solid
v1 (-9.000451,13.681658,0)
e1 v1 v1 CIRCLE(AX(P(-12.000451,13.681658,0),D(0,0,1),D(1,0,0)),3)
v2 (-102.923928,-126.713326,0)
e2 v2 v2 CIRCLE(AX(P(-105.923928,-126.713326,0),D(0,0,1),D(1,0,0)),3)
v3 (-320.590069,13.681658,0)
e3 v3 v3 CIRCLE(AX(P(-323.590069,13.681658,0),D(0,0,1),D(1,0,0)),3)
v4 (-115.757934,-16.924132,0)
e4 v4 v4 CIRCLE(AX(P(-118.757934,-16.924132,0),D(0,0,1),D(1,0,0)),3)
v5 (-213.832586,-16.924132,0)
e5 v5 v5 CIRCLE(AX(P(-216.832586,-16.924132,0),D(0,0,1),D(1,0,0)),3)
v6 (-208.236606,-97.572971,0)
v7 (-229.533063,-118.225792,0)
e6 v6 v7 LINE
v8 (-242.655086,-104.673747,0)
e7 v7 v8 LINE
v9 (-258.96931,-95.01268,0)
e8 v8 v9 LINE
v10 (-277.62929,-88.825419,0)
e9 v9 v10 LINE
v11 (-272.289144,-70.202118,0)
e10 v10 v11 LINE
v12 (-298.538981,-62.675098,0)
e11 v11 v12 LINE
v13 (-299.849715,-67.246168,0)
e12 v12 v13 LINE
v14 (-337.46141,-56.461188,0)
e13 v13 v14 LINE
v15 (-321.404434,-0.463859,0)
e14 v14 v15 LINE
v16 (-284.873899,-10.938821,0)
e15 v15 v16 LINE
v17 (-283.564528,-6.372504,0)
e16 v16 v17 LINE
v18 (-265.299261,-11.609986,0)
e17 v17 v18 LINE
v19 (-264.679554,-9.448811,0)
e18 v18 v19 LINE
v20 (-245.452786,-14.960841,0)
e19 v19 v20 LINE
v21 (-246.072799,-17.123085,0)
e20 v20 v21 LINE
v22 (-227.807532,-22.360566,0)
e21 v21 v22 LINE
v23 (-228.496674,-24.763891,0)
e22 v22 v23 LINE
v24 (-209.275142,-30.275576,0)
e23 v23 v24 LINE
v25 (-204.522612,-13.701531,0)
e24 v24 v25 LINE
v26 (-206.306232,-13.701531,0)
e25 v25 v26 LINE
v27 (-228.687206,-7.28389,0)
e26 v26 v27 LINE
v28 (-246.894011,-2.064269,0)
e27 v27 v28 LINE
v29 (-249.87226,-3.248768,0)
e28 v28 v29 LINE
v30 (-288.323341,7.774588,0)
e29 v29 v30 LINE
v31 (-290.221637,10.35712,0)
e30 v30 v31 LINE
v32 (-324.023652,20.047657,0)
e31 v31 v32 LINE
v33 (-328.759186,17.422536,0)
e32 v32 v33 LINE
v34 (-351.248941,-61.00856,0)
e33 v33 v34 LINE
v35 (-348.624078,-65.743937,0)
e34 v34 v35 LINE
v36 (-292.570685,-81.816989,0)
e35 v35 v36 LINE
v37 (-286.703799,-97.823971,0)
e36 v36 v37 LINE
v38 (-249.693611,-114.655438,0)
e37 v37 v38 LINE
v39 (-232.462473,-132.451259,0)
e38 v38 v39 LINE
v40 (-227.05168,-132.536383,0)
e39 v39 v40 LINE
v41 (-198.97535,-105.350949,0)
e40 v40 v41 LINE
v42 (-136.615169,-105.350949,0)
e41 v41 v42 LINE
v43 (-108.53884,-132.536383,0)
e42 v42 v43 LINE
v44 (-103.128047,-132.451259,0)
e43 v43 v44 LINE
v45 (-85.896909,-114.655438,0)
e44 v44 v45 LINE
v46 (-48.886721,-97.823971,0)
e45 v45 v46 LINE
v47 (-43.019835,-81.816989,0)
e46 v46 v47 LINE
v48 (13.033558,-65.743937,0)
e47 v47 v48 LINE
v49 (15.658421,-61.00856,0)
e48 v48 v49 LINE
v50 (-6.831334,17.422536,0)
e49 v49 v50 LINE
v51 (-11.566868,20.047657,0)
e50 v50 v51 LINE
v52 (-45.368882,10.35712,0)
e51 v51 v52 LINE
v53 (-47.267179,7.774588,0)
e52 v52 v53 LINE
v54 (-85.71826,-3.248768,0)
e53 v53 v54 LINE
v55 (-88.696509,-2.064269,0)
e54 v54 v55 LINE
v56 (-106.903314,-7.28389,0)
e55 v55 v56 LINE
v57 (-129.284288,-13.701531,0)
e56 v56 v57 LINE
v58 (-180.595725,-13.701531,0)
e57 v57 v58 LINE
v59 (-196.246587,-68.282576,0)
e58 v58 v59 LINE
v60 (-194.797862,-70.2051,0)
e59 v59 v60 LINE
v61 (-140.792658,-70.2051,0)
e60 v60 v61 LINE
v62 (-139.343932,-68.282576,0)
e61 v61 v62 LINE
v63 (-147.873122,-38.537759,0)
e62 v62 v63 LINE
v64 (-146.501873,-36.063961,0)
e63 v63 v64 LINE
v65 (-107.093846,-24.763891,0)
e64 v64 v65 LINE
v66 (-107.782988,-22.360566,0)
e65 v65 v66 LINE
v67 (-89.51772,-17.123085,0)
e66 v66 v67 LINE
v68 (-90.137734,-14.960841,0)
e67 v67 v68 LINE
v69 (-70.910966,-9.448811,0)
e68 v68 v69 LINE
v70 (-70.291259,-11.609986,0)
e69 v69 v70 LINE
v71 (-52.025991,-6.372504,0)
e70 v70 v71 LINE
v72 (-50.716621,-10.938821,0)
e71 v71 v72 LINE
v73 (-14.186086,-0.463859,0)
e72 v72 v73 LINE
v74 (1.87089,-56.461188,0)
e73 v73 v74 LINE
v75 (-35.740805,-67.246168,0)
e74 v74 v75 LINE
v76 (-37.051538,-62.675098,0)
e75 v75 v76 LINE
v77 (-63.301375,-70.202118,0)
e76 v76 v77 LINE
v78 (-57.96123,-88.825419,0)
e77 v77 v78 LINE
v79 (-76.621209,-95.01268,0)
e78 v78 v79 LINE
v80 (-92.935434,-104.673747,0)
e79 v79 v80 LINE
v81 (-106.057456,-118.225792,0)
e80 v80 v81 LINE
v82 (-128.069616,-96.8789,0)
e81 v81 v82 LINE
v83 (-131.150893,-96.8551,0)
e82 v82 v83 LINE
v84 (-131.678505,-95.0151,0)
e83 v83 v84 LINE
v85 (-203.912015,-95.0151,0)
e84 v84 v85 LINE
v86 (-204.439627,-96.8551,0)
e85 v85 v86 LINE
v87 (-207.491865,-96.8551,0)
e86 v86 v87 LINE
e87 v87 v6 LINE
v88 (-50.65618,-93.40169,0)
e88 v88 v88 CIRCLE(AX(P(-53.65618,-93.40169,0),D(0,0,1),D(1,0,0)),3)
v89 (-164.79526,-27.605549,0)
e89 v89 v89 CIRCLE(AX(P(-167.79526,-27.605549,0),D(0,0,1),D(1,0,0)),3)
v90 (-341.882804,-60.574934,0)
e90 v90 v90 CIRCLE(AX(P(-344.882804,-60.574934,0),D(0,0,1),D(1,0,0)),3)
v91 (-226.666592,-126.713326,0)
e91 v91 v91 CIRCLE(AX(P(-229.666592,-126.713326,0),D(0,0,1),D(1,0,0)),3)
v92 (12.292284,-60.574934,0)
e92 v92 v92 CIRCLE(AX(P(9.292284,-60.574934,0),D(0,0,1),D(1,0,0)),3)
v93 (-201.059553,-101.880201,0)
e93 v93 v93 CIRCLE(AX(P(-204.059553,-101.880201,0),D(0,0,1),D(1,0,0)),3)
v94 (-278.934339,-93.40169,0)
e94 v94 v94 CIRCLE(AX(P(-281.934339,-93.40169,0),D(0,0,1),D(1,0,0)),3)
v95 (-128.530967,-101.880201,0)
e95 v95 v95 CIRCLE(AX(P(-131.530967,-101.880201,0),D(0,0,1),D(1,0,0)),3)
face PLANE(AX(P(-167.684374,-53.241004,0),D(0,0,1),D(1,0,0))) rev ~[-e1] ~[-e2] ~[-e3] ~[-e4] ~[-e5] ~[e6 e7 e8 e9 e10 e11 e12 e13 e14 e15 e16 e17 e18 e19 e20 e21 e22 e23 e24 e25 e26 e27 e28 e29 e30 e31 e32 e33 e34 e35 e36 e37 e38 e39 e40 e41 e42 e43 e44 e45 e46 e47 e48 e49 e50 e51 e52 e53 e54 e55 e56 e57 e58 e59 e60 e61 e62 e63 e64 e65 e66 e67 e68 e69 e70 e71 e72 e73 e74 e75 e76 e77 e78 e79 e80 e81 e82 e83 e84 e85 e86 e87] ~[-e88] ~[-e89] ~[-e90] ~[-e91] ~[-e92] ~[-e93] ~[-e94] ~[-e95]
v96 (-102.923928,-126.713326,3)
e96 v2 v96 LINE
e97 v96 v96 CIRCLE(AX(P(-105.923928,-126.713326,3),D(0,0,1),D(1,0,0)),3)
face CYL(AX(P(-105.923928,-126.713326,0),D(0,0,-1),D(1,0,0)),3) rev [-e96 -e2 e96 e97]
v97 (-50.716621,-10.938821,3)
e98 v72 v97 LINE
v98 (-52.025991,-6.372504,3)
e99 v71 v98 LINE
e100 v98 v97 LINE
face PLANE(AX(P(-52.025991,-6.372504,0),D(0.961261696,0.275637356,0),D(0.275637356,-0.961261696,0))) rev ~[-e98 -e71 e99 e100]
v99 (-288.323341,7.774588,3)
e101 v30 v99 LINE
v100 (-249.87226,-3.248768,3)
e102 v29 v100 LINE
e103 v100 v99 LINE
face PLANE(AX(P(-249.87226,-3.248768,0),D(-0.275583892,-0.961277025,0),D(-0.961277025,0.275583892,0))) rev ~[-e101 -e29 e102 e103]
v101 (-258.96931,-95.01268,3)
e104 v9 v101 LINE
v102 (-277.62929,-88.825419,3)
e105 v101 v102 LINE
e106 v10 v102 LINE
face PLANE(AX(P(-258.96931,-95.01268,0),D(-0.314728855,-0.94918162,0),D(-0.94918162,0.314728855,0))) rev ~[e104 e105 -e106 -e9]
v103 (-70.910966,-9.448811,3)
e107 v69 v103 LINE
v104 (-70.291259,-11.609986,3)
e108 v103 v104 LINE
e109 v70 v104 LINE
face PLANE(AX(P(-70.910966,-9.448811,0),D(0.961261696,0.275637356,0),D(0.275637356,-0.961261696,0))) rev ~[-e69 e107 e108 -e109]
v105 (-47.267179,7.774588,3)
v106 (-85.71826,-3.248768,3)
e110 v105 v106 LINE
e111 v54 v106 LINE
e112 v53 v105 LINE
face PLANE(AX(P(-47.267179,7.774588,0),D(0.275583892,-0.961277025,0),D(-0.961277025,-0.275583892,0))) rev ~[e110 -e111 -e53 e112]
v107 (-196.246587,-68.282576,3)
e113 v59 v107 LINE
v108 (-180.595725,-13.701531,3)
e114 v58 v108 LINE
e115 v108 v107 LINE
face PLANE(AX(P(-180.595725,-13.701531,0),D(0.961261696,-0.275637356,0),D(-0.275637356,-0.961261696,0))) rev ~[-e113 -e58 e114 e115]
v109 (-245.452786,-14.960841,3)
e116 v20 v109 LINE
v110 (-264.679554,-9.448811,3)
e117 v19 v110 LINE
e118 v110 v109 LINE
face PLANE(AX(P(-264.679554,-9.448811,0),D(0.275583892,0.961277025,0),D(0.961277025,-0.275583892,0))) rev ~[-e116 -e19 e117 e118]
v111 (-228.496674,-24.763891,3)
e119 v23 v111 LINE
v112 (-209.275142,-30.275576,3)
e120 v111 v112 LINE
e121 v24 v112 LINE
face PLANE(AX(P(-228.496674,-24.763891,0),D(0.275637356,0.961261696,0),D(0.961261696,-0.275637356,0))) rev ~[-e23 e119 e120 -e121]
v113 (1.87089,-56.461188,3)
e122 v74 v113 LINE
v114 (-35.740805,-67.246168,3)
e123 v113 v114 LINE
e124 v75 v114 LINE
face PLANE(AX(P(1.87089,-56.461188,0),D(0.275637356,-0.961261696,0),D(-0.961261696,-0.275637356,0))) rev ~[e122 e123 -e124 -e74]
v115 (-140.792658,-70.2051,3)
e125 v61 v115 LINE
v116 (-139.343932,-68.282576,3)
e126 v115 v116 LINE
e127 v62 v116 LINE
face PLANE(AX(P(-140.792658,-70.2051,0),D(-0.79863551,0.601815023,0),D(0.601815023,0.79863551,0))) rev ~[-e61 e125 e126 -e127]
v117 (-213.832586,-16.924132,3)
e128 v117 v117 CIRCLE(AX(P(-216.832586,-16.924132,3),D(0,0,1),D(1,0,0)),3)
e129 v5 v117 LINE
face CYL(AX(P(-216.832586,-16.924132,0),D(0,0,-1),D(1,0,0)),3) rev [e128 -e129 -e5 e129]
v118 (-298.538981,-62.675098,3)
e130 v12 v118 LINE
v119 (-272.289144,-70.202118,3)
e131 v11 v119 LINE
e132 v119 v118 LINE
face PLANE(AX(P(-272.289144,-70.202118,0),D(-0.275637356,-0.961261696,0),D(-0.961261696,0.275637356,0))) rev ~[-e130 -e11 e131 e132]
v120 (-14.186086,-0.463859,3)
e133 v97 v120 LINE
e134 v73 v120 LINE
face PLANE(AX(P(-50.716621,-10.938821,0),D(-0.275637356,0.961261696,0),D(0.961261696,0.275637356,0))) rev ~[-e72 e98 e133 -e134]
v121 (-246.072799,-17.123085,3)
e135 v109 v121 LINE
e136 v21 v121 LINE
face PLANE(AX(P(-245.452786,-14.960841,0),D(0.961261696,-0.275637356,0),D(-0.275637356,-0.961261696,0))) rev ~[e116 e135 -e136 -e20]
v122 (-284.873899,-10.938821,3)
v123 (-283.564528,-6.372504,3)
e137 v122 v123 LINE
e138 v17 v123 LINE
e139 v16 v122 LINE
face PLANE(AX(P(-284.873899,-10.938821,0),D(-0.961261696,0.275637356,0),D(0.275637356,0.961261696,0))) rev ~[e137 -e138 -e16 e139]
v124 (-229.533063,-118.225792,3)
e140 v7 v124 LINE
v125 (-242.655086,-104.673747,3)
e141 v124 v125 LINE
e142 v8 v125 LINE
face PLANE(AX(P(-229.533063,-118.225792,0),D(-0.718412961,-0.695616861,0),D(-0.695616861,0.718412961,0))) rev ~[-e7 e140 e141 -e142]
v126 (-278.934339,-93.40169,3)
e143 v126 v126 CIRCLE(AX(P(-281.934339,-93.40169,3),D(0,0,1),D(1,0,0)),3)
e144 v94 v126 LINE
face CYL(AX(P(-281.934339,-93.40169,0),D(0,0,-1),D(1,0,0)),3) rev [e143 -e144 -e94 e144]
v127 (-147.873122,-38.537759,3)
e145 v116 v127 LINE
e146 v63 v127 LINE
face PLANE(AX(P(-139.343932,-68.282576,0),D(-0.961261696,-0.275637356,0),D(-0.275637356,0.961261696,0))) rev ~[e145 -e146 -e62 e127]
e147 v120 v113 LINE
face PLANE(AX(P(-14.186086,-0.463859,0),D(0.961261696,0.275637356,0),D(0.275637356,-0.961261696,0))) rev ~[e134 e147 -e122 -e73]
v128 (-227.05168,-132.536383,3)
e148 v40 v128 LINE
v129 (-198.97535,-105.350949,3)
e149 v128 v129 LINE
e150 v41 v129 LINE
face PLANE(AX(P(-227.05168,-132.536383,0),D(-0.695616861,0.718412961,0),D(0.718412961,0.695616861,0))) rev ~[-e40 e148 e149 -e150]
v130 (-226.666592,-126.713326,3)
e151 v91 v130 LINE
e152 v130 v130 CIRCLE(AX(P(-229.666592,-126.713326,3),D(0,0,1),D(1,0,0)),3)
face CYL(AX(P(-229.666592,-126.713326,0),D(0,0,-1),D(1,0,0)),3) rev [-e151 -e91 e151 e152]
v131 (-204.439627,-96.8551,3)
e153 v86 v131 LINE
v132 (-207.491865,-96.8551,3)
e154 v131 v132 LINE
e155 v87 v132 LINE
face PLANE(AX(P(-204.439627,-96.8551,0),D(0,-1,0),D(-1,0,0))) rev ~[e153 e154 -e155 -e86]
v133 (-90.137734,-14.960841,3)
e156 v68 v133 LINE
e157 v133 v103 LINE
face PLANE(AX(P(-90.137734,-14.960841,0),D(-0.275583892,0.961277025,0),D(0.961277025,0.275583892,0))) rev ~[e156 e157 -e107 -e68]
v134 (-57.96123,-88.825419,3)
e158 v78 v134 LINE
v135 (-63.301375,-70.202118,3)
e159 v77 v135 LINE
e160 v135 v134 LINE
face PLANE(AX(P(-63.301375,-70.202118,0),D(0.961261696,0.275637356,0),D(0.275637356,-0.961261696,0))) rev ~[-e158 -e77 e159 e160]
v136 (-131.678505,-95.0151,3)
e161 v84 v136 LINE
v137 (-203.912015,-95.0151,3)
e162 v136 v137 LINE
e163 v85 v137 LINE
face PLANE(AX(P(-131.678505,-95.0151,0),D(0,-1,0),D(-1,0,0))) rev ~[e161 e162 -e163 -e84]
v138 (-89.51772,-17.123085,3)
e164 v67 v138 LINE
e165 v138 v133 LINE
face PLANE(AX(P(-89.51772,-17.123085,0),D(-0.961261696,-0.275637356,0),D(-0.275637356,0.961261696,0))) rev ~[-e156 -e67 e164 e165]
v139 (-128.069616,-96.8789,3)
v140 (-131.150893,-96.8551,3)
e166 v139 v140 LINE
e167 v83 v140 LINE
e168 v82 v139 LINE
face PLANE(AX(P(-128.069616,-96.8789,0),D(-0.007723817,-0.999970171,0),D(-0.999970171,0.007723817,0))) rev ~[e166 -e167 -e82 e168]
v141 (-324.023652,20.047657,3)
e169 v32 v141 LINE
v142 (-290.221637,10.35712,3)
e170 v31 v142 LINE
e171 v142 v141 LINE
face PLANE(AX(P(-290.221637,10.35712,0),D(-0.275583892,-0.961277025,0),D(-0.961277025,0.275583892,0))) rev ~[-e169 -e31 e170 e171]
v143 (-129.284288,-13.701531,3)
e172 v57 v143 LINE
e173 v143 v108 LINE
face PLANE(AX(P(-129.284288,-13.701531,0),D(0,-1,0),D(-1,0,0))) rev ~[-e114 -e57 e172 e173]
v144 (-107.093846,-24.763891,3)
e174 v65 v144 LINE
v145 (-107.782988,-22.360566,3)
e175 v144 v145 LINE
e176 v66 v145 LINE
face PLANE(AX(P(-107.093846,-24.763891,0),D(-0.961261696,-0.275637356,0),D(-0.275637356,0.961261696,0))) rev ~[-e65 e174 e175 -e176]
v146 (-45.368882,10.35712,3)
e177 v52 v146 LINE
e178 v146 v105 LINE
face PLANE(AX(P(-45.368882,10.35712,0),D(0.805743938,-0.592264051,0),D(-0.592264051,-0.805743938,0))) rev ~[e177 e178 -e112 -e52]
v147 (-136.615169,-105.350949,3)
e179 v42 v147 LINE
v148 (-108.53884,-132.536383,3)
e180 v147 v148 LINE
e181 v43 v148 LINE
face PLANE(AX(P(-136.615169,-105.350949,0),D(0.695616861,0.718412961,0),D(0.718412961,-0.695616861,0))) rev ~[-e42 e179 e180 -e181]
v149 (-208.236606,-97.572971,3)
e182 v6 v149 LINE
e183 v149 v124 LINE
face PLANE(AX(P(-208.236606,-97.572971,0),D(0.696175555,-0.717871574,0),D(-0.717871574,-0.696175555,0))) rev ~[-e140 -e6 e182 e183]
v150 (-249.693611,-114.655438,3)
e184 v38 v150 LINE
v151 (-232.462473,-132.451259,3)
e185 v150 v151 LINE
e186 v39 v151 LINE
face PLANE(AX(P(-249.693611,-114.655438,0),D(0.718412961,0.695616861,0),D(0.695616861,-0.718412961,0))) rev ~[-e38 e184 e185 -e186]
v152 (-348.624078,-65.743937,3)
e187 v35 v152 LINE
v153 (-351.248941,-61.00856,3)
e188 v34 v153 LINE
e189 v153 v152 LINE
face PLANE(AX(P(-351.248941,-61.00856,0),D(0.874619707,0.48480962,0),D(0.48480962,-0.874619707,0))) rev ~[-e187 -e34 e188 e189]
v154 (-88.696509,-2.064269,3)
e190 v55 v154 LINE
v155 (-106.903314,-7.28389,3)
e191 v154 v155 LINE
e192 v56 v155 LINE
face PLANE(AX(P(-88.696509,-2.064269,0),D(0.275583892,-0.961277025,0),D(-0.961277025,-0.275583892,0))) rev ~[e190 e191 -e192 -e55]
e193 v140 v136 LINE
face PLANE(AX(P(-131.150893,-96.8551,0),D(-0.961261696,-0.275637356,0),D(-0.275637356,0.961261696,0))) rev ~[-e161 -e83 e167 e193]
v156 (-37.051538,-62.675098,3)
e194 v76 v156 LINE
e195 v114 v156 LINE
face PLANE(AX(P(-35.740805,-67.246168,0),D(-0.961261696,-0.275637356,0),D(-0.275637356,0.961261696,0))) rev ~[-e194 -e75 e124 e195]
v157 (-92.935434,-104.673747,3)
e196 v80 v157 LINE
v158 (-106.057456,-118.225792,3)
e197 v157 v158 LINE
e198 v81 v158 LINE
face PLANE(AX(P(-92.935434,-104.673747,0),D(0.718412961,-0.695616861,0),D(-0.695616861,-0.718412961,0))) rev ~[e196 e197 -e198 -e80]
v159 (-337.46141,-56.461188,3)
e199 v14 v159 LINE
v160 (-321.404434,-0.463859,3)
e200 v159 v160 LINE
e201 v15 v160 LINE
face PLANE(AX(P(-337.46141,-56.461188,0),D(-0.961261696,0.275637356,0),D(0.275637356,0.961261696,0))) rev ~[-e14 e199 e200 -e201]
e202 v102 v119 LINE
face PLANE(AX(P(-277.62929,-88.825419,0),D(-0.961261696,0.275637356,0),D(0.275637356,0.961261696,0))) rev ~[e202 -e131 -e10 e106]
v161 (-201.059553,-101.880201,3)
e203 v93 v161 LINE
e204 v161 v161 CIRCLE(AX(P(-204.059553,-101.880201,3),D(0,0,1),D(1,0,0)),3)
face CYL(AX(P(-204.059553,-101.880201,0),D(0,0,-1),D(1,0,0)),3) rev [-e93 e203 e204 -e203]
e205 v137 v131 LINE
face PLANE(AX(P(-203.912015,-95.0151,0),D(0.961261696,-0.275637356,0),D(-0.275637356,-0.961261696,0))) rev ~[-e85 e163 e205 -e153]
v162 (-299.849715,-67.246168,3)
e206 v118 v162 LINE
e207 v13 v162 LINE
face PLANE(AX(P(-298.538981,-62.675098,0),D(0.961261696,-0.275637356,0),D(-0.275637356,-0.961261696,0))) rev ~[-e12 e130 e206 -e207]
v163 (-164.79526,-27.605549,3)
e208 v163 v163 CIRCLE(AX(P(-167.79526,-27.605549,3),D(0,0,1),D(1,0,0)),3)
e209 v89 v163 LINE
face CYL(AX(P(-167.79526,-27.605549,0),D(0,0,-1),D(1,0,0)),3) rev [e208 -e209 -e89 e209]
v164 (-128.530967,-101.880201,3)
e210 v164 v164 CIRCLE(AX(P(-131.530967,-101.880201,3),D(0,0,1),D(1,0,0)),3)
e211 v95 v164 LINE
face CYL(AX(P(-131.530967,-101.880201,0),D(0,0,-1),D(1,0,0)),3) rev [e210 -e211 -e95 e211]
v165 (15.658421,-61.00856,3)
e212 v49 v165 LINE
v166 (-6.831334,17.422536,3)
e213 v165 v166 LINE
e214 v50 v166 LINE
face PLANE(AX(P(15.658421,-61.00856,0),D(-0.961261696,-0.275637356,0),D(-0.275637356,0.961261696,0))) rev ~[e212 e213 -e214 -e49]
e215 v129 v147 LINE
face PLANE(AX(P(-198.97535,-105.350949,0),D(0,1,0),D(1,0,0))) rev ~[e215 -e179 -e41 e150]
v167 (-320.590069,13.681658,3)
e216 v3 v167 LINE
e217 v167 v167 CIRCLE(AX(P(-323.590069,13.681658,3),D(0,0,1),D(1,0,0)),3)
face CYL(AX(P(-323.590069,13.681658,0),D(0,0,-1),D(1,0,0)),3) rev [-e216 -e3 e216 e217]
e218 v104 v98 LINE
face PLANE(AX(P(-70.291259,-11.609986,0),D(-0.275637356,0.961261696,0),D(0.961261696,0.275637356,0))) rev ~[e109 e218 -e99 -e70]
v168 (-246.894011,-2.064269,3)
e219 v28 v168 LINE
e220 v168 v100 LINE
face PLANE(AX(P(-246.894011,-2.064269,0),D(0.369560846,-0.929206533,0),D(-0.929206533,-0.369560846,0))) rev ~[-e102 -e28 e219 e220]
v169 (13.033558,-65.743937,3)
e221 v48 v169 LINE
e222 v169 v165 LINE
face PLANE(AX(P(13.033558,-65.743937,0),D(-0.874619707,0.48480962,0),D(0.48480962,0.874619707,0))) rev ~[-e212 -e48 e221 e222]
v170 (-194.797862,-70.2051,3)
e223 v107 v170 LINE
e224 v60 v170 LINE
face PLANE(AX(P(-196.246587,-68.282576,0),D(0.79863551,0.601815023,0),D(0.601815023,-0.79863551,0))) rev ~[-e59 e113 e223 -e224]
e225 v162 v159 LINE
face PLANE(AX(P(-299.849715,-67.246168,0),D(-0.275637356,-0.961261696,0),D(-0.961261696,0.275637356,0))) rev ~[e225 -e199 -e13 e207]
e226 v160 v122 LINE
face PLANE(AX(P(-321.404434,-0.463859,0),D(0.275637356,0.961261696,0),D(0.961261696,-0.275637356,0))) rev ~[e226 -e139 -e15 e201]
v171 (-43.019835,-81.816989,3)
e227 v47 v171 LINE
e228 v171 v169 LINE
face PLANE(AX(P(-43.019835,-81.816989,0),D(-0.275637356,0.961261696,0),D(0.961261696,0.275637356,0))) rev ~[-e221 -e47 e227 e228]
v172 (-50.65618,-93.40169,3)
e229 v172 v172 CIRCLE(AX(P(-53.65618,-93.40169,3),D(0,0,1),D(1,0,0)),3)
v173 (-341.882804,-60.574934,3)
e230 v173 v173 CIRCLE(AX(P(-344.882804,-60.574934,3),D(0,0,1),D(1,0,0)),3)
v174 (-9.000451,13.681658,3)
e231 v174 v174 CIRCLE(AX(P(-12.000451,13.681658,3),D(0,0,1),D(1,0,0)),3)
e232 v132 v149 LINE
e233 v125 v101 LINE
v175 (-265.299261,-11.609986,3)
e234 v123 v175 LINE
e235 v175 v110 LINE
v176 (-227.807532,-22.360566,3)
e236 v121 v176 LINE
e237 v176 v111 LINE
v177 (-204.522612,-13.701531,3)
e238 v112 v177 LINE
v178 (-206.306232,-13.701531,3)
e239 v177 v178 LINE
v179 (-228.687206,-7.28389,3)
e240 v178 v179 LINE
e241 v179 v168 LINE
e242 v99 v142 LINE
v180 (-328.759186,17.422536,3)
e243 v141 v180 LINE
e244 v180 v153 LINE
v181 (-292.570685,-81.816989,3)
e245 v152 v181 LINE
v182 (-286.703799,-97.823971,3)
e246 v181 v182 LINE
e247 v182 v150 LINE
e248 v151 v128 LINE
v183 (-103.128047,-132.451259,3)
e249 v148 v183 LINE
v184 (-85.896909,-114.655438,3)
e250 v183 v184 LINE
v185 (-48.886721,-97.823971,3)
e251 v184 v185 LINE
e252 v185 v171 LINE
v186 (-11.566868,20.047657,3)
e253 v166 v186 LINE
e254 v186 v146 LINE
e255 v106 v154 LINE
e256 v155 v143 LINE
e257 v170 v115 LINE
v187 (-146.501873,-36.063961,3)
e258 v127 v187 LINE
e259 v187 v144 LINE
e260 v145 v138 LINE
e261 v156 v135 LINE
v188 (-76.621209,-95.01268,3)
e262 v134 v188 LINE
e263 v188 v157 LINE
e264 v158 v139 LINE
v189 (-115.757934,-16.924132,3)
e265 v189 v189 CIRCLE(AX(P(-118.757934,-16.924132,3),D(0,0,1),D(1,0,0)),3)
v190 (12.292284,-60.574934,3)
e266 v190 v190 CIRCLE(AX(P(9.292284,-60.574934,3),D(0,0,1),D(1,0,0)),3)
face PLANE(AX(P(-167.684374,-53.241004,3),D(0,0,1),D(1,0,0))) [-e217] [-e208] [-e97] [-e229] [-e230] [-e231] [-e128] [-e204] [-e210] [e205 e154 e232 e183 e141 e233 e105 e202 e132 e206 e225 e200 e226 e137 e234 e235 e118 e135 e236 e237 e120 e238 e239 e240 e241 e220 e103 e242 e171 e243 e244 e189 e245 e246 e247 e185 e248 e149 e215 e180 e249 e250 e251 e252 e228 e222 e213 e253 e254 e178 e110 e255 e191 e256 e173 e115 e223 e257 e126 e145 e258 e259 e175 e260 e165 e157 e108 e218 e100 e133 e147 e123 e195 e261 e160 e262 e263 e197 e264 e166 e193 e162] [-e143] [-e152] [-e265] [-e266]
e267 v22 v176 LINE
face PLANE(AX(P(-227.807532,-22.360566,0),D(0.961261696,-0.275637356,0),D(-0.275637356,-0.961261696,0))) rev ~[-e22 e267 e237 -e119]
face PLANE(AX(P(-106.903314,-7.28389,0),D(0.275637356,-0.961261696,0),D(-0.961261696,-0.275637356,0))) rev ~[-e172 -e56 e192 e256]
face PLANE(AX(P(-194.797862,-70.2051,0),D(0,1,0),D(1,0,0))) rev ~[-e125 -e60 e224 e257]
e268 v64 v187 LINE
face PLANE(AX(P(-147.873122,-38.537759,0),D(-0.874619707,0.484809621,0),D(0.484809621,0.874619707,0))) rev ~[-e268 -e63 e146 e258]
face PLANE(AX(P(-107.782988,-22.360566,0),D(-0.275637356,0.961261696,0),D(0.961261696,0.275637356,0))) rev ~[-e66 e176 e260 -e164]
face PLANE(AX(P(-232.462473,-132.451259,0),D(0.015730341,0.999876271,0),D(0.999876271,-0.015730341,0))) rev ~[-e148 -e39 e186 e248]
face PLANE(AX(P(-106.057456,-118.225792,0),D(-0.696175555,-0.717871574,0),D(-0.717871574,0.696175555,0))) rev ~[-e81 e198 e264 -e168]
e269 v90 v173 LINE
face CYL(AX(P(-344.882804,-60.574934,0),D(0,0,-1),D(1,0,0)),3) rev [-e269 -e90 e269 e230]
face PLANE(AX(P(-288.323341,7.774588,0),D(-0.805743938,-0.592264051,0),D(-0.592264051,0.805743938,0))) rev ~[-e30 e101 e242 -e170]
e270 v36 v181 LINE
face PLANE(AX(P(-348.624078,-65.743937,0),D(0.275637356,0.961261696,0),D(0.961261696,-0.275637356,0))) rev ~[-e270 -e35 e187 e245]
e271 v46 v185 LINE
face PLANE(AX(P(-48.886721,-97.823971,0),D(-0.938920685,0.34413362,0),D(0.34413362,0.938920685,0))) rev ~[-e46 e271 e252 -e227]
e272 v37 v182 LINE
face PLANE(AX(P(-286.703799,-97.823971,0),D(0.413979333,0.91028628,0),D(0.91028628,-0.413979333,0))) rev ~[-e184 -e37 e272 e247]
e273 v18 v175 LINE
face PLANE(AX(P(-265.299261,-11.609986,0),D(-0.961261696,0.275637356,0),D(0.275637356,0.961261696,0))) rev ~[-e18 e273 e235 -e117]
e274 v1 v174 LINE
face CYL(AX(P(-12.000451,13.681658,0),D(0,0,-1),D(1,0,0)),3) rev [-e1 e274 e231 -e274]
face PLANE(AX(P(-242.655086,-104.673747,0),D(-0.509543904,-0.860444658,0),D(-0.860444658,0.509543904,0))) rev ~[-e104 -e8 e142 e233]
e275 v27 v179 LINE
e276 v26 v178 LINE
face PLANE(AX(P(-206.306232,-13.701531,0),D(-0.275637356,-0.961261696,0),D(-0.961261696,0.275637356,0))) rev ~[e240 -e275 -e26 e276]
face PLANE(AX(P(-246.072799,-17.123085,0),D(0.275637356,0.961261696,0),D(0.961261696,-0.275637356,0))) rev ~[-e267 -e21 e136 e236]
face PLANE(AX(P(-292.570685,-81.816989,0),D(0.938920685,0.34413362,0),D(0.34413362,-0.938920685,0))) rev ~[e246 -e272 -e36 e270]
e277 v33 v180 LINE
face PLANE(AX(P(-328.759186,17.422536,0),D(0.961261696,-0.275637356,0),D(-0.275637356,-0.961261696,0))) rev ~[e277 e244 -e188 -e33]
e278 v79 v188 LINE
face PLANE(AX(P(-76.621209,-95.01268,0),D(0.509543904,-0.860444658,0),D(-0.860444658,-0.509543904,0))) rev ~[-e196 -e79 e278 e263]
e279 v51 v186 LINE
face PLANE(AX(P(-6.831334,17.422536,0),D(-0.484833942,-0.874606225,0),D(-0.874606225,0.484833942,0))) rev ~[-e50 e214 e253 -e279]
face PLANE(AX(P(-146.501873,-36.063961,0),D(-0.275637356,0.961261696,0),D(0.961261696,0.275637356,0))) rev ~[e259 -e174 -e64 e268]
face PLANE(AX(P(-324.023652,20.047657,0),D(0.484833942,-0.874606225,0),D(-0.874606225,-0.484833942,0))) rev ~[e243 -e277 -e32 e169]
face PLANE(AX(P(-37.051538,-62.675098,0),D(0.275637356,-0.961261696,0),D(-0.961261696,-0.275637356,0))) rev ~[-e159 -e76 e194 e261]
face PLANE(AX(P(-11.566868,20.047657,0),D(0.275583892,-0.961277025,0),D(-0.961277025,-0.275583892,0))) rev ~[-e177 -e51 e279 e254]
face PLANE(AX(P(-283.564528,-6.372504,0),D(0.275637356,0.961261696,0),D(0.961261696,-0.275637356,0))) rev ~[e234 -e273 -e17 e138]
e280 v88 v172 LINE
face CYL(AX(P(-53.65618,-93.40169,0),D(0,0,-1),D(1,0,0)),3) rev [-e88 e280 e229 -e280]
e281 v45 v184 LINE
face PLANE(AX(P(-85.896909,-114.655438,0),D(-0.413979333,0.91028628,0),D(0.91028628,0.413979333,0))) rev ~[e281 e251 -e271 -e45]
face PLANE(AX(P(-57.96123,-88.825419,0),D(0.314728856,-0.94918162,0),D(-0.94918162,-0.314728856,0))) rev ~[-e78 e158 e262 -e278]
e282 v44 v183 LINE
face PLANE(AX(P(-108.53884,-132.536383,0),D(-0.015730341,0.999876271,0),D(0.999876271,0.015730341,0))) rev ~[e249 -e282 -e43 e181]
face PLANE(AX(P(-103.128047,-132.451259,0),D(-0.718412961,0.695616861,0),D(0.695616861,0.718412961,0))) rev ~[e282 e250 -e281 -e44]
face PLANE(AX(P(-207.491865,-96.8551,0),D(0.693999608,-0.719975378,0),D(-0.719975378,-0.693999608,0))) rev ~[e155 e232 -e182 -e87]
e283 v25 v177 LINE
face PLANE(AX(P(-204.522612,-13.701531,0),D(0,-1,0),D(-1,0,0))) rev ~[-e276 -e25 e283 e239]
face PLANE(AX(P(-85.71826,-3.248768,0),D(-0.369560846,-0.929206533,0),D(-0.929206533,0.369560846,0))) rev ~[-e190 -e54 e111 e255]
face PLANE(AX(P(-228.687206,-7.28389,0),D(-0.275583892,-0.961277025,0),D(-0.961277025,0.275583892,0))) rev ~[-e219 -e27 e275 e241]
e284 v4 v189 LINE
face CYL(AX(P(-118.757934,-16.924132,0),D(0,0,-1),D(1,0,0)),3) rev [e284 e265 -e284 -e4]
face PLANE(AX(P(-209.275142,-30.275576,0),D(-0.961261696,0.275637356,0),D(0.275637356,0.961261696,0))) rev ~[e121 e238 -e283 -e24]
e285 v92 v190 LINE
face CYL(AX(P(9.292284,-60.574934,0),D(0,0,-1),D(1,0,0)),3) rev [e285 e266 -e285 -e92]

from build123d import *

# Parameters (mm, degrees)
ESQUISSE1_R        = 3
BOSS_EXTRU_1_DEPTH = 3


with BuildPart() as part:
    # Esquisse1 → Boss.-Extru.1 (new body)
    with BuildSketch(Plane.XY):
        Polygon((-106.057456456, -118.225792128), (-128.0696158, -96.878899722), (-131.150893181, -96.85509979), (-131.678504691, -95.01509979), (-203.912015052, -95.01509979), (-204.439626562, -96.85509979), (-207.491865187, -96.85509979), (-208.236606037, -97.572971364), (-229.533063287, -118.225792128), (-242.655085998, -104.673746846), (-258.969310369, -95.012679745), (-277.629290011, -88.825419148), (-272.289144354, -70.202118055), (-298.538981418, -62.6750984), (-299.849714513, -67.246167925), (-337.461409717, -56.461187875), (-321.404434006, -0.463858857), (-284.873898651, -10.938821309), (-283.564528344, -6.372504389), (-265.299260667, -11.609985616), (-264.679553884, -9.448811229), (-245.452786066, -14.960840928), (-246.072799476, -17.123084647), (-227.807531798, -22.360565873), (-228.496674065, -24.763890567), (-209.275142378, -30.275576085), (-204.522611526, -13.701531345), (-206.306232172, -13.701531345), (-228.687205955, -7.283890384), (-246.894010665, -2.064269008), (-249.872259625, -3.248768002), (-288.323340616, 7.774587685), (-290.221637422, 10.357120157), (-324.023652204, 20.047657387), (-328.759186056, 17.422535954), (-351.248940808, -61.008559605), (-348.624077987, -65.743937486), (-292.570685007, -81.816989279), (-286.703799003, -97.823971184), (-249.693611115, -114.655437515), (-232.462472657, -132.451258614), (-227.051679806, -132.536382762), (-198.975350278, -105.350948678), (-136.615169465, -105.350948678), (-108.538839937, -132.536382762), (-103.128047086, -132.451258614), (-85.896908628, -114.655437515), (-48.88672074, -97.823971184), (-43.019834736, -81.816989279), (13.033558244, -65.743937486), (15.658421065, -61.008559605), (-6.831333687, 17.422535954), (-11.566867539, 20.047657387), (-45.368882322, 10.357120157), (-47.267179127, 7.774587685), (-85.718260118, -3.248768002), (-88.696509078, -2.064269008), (-106.903313789, -7.283890384), (-129.284287571, -13.701531345), (-180.595724501, -13.701531345), (-196.24658732, -68.282576398), (-194.797862031, -70.20509979), (-140.792657712, -70.20509979), (-139.343932423, -68.282576398), (-147.87312166, -38.537758661), (-146.501872979, -36.063960558), (-107.093845678, -24.763890567), (-107.782987945, -22.360565873), (-89.517720268, -17.123084647), (-90.137733677, -14.960840928), (-70.910965859, -9.448811229), (-70.291259076, -11.609985616), (-52.025991399, -6.372504389), (-50.716621092, -10.938821309), (-14.186085737, -0.463858857), (1.870889973, -56.461187875), (-35.740805231, -67.246167925), (-37.051538325, -62.6750984), (-63.301375389, -70.202118055), (-57.961229733, -88.825419148), (-76.621209374, -95.012679745), (-92.935433745, -104.673746846), align=None)
        with Locations((-281.934339477, -93.401689518)):
            Circle(ESQUISSE1_R, mode=Mode.SUBTRACT)
        with Locations((-229.666591606, -126.713325795)):
            Circle(ESQUISSE1_R, mode=Mode.SUBTRACT)
        with Locations((-204.059552706, -101.880200807)):
            Circle(ESQUISSE1_R, mode=Mode.SUBTRACT)
        with Locations((-344.882804027, -60.574933915)):
            Circle(ESQUISSE1_R, mode=Mode.SUBTRACT)
        with Locations((-105.923928137, -126.713325795)):
            Circle(ESQUISSE1_R, mode=Mode.SUBTRACT)
        with Locations((-131.530967037, -101.880200807)):
            Circle(ESQUISSE1_R, mode=Mode.SUBTRACT)
        with Locations((-53.656180266, -93.401689518)):
            Circle(ESQUISSE1_R, mode=Mode.SUBTRACT)
        with Locations((9.292284284, -60.574933915)):
            Circle(ESQUISSE1_R, mode=Mode.SUBTRACT)
        with Locations((-323.590068827, 13.68165837)):
            Circle(ESQUISSE1_R, mode=Mode.SUBTRACT)
        with Locations((-216.832585966, -16.924131519)):
            Circle(ESQUISSE1_R, mode=Mode.SUBTRACT)
        with Locations((-118.757933777, -16.924131519)):
            Circle(ESQUISSE1_R, mode=Mode.SUBTRACT)
        with Locations((-12.000450916, 13.68165837)):
            Circle(ESQUISSE1_R, mode=Mode.SUBTRACT)
        with Locations((-167.795259872, -27.605548894)):
            Circle(ESQUISSE1_R, mode=Mode.SUBTRACT)
    extrude(amount=BOSS_EXTRU_1_DEPTH)


solid = part.part
